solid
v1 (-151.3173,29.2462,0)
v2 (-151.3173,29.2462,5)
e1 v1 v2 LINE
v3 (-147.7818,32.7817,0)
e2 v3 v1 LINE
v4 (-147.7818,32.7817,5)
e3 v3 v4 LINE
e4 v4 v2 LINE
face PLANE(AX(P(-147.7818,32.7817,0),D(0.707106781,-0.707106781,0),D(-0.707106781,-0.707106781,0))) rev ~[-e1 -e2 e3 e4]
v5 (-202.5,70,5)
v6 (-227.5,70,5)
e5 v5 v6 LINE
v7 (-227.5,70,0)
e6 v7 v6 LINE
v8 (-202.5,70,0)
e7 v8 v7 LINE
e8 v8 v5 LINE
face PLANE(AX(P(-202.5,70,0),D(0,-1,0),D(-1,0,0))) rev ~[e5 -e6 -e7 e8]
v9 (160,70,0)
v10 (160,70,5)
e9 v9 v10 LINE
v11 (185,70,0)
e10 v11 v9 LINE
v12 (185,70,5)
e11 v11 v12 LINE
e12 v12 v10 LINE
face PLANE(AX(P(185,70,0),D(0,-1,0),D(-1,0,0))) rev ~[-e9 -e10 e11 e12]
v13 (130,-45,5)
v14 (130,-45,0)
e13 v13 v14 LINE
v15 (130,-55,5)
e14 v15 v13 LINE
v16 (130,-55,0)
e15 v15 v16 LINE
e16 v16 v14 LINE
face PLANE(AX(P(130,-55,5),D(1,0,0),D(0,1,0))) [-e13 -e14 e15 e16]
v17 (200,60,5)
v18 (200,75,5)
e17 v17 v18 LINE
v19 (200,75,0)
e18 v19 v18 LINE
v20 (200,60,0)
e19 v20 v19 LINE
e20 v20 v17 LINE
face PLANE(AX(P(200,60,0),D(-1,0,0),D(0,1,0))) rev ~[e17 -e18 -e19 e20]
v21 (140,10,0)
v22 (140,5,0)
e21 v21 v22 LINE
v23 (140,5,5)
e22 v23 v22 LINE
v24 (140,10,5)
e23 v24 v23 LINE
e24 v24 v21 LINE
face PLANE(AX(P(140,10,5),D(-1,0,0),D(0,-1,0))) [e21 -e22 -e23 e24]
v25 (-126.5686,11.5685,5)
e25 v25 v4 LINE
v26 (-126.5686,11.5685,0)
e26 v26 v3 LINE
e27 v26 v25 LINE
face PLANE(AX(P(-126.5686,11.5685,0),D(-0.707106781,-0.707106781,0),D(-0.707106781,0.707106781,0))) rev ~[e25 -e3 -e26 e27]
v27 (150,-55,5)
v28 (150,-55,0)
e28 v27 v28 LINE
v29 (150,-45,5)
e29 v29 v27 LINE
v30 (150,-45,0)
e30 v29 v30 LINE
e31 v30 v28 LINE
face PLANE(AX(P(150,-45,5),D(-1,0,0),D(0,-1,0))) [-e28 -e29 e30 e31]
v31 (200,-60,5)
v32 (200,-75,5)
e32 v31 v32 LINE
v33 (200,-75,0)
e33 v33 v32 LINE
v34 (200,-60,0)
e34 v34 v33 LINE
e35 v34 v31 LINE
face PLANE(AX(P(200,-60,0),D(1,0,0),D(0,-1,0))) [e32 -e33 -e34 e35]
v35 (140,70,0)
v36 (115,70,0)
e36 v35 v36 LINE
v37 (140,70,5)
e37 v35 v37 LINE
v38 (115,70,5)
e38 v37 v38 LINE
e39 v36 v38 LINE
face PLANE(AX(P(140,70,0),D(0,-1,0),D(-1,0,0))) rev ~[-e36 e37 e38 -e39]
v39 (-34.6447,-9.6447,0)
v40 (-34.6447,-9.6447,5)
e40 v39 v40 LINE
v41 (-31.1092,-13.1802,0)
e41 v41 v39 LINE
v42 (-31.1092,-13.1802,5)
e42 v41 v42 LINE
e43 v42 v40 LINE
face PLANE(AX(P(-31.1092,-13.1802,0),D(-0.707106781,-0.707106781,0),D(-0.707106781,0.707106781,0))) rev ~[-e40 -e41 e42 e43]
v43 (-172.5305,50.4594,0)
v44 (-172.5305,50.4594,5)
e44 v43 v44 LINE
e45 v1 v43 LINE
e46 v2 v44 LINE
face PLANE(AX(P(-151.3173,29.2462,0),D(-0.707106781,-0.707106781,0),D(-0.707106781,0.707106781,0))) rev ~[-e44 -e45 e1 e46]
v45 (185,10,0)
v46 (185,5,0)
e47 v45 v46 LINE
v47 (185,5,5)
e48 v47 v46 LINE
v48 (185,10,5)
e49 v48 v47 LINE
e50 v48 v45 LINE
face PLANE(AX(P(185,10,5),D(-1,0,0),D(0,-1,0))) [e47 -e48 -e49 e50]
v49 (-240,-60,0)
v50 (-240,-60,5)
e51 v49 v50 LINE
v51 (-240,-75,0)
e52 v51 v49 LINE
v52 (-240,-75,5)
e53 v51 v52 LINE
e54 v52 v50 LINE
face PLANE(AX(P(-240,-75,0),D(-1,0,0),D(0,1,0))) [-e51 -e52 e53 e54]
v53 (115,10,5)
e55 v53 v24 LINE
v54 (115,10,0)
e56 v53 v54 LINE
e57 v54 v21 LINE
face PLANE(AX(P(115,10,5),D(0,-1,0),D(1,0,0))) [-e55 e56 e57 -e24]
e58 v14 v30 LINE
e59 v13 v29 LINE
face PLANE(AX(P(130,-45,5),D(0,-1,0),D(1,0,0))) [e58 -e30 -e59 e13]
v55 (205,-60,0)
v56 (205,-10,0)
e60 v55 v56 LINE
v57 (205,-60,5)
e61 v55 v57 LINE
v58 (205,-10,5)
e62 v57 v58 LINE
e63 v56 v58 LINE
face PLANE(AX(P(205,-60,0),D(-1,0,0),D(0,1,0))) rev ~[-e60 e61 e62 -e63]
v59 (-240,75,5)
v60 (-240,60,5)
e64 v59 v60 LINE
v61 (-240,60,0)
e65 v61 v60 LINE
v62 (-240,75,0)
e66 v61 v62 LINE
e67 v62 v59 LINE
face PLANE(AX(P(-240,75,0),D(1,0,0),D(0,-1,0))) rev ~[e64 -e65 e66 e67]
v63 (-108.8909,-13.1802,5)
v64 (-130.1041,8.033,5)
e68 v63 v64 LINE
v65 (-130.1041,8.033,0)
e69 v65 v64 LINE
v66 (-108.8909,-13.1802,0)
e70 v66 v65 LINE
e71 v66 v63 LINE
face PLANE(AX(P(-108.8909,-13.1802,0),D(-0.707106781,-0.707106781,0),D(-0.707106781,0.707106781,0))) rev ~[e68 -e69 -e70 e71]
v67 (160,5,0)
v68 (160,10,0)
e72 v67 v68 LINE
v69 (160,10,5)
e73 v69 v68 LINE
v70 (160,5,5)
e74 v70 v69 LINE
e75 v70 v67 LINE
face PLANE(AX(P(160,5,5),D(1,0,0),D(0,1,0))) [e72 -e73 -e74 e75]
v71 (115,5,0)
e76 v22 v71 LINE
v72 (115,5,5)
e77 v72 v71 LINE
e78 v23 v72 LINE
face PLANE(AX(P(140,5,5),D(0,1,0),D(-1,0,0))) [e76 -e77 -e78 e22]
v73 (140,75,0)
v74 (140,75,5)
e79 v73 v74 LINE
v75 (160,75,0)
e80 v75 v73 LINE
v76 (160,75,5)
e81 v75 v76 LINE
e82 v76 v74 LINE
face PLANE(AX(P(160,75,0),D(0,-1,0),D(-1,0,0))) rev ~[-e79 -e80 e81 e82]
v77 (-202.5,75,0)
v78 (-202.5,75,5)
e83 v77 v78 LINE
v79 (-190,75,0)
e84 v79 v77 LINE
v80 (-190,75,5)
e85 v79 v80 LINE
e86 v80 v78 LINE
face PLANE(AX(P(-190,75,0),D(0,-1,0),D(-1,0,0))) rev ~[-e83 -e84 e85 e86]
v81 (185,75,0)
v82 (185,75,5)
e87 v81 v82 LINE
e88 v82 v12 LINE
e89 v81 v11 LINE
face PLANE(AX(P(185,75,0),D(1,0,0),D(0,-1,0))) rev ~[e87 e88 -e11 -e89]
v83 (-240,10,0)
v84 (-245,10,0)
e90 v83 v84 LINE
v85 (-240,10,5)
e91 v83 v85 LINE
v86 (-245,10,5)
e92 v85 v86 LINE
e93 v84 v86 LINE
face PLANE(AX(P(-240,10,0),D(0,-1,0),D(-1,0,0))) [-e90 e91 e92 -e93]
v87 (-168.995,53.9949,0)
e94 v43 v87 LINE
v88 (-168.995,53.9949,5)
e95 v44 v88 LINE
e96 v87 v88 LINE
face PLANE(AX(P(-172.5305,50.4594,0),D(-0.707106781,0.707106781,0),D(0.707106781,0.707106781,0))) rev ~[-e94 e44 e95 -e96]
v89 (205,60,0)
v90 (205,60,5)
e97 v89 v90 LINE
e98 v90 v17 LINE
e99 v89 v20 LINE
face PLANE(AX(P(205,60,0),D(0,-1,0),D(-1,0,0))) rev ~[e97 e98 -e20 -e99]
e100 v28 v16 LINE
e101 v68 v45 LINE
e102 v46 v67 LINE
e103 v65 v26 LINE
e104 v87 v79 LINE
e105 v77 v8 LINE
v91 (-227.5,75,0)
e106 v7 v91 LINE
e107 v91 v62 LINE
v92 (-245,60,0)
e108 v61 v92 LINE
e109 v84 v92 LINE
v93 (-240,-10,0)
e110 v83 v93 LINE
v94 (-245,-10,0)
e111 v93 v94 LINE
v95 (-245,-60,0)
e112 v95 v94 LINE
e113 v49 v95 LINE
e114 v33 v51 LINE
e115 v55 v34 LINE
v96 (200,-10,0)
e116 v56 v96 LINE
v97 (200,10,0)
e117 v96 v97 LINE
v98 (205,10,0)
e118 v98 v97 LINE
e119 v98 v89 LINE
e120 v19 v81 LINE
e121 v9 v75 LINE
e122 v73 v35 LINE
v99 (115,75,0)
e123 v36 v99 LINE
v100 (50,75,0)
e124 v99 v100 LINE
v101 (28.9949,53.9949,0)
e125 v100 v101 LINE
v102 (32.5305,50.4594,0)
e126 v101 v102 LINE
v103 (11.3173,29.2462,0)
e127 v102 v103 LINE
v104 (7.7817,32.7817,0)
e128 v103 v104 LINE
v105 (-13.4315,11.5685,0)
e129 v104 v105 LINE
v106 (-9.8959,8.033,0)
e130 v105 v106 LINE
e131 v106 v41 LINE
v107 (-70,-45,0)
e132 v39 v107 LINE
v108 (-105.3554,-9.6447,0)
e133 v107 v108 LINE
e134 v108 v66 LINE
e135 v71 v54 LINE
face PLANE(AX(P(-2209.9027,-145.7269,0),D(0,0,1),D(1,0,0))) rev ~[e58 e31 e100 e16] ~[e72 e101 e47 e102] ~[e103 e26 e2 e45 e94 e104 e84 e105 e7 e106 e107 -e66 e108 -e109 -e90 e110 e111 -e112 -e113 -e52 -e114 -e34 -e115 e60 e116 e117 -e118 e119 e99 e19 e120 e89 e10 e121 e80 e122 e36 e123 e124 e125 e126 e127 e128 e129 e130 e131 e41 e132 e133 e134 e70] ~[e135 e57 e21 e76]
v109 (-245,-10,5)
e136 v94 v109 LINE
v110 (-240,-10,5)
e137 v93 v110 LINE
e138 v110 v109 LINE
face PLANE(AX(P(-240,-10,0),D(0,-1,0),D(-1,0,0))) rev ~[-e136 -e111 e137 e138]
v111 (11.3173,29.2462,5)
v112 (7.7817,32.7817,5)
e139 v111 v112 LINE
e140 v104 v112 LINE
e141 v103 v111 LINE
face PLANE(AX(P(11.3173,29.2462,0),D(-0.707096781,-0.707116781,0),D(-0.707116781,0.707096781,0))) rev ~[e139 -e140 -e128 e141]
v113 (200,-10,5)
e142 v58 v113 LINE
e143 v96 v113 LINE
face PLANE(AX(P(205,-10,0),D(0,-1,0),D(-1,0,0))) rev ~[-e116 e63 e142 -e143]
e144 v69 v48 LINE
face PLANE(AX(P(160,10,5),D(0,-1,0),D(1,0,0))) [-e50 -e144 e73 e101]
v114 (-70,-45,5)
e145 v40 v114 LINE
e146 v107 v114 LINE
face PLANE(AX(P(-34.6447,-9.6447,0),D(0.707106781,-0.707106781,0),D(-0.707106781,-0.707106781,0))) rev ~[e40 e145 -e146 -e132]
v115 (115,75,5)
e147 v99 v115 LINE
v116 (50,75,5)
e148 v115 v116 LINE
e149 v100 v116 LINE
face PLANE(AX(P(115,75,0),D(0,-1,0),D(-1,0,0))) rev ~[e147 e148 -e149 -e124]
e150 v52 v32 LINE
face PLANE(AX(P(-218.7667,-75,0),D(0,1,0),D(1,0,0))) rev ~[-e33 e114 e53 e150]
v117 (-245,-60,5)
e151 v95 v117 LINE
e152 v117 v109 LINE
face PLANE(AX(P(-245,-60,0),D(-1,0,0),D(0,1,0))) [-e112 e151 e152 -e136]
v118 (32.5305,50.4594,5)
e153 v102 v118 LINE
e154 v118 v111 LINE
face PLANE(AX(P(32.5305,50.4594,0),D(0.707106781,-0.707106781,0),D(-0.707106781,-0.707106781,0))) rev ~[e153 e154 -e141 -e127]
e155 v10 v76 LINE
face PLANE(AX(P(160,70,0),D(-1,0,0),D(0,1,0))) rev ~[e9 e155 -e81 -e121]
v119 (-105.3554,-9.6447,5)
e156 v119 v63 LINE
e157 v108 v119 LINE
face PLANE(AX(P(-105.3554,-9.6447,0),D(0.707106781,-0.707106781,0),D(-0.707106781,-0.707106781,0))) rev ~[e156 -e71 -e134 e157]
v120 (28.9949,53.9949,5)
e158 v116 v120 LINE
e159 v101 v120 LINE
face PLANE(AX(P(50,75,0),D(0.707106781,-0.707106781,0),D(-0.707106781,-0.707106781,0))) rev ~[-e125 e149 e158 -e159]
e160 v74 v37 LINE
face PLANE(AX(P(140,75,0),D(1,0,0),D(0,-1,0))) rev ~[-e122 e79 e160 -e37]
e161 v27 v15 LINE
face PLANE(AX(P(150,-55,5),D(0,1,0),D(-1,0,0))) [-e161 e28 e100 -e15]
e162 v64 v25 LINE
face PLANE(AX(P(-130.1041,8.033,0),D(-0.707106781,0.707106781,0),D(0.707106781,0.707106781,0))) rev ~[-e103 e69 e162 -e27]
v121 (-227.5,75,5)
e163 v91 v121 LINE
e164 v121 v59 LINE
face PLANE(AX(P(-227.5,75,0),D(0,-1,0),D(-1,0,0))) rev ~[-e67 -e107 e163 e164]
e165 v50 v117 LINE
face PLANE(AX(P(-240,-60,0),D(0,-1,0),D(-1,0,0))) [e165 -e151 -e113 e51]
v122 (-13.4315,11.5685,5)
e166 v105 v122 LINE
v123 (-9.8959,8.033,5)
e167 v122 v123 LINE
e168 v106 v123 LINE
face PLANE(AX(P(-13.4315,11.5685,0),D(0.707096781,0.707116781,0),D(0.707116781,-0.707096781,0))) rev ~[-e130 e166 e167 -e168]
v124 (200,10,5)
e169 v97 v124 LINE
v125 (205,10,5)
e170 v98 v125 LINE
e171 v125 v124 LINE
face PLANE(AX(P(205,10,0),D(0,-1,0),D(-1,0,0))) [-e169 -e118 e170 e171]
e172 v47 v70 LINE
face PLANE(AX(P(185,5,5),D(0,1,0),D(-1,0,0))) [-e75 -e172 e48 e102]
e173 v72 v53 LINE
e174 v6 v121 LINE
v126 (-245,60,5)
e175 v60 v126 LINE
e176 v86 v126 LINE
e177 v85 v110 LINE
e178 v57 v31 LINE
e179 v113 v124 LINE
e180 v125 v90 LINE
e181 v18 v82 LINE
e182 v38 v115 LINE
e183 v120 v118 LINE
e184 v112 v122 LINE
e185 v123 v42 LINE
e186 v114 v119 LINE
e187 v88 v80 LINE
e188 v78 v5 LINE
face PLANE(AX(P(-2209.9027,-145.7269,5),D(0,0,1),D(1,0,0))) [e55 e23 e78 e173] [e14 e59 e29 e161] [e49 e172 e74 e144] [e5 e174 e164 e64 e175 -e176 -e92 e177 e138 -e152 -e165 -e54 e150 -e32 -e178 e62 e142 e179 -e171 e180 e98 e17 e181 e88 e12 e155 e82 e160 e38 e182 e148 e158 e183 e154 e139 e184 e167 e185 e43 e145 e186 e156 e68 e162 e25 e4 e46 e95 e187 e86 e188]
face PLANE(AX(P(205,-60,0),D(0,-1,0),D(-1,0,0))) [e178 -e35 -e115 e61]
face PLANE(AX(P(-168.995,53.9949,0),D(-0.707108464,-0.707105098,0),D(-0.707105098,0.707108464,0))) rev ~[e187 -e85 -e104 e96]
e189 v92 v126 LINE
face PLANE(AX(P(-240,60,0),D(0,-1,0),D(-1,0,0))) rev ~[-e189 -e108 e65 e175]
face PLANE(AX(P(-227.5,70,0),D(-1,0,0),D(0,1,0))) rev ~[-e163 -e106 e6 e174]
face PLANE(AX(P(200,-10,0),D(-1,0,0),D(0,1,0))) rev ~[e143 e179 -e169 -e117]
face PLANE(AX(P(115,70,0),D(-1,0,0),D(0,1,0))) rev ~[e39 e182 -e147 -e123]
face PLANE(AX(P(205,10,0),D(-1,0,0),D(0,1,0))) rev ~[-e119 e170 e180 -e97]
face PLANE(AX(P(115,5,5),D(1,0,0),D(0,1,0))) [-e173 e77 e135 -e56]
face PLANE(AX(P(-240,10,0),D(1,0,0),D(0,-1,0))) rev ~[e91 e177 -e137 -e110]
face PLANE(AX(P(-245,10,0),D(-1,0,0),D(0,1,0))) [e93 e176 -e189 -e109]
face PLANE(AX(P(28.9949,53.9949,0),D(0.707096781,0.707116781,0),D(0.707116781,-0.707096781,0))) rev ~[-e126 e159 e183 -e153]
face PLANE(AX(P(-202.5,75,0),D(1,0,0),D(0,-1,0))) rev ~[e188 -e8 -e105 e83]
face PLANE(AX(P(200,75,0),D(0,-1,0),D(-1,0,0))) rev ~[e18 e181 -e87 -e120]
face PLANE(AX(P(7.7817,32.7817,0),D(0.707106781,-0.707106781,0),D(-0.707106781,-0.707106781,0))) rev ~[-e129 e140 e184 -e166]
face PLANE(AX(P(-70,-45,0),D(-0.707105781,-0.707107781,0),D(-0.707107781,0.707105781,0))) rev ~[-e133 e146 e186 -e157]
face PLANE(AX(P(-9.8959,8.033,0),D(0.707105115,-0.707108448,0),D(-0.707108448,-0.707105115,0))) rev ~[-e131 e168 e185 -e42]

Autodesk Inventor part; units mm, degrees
ref_plane "YZ Plane" through (0, 0, 0) normal (1, 0, 0) x (0, 1, 0)
ref_plane "XZ Plane" through (0, 0, 0) normal (0, 1, 0) x (-1, 0, 0)
ref_plane "XY Plane" through (0, 0, 0) normal (0, 0, 1) x (1, 0, 0)
ref_plane "Work Plane1" through (-2209.9027, -145.7269, 0) normal (0, 0, 1) x (1, 0, 0)
sketch "Sketch1" plane through (-2209.9027, -145.7269, 0) normal (0, 0, 1) x (1, 0, 0)
  line L0 (1984.9027, 125.3224) -> (1984.9027, 70.7269) projected
  line L1 (1984.9027, 70.7269) -> (2394.9027, 70.7269) projected
  line L2 (2394.9027, 70.7269) -> (2394.9027, 125.3224) projected
  line L3 (2394.9027, 125.3224) -> (2409.9027, 125.3224) projected
  line L4 (2409.9027, 125.3224) -> (2409.9027, 220.7269) projected
  line L5 (2409.9027, 220.7269) -> (2394.9027, 220.7269) projected
  line L6 (1969.9027, 220.7269) -> (1969.9027, 125.3224) projected
  line L7 (1969.9027, 125.3224) -> (1984.9027, 125.3224) projected
  line L8 (1969.9027, 155.7269) -> (1969.9027, 205.7269) projected
  line L9 (1969.9027, 205.7269) -> (1964.9027, 205.7269) projected
  line L10 (1964.9027, 155.7269) -> (1964.9027, 205.7269) projected
  line L11 (1969.9027, 155.7269) -> (1964.9027, 155.7269) projected
  line L12 (1969.9027, 85.7269) -> (1969.9027, 135.7269) projected
  line L13 (1969.9027, 135.7269) -> (1964.9027, 135.7269) projected
  line L14 (1964.9027, 85.7269) -> (1964.9027, 135.7269) projected
  line L15 (1969.9027, 85.7269) -> (1964.9027, 85.7269) projected
  line L16 (1964.9027, 155.7269) -> (1969.9027, 155.7269)
  line L17 (1969.9027, 155.7269) -> (1969.9027, 135.7269)
  line L18 (1969.9027, 135.7269) -> (1964.9027, 135.7269)
  line L19 (1964.9027, 135.7269) -> (1964.9027, 155.7269)
  line L20 (1991.136, 206.6179) -> (1964.9027, 206.6179)
  line L21 (1964.9027, 206.6179) -> (1964.9027, 205.7269)
  line L22 (1964.9027, 205.7269) -> (1991.136, 205.7269)
  line L23 (1991.136, 205.7269) -> (1991.136, 206.6179)
  line L24 (1964.9027, 85.7269) -> (1991.136, 85.7269)
  line L25 (1991.136, 85.7269) -> (1991.136, 70.7269)
  line L26 (1991.136, 70.7269) -> (1964.9027, 70.7269)
  line L27 (1964.9027, 70.7269) -> (1964.9027, 85.7269)
  line L28 (1984.9027, 70.7269) -> (1969.9027, 70.7269)
  line L29 (1969.9027, 70.7269) -> (1969.9027, 125.3224)
  line L30 (1969.9027, 125.3224) -> (1984.9027, 125.3224)
  line L31 (1984.9027, 125.3224) -> (1984.9027, 70.7269)
  line L32 (2414.9027, 155.7269) -> (2414.9027, 205.7269) projected
  line L33 (2414.9027, 205.7269) -> (2409.9027, 205.7269) projected
  line L34 (2409.9027, 155.7269) -> (2409.9027, 205.7269) projected
  line L35 (2414.9027, 155.7269) -> (2409.9027, 155.7269) projected
  line L36 (2414.9027, 85.7269) -> (2414.9027, 135.7269) projected
  line L37 (2414.9027, 135.7269) -> (2409.9027, 135.7269) projected
  line L38 (2409.9027, 85.7269) -> (2409.9027, 135.7269) projected
  line L39 (2414.9027, 85.7269) -> (2409.9027, 85.7269) projected
  line L40 (2409.9027, 70.7269) -> (2394.9027, 70.7269)
  line L41 (2394.9027, 70.7269) -> (2394.9027, 125.3224)
  line L42 (2394.9027, 125.3224) -> (2409.9027, 125.3224)
  line L43 (2409.9027, 125.3224) -> (2409.9027, 70.7269)
  line L44 (2259.9027, 220.7269) -> (2238.8976, 199.7218) projected
  line L45 (2139.9027, 100.7269) -> (2104.5473, 136.0822) projected
  line L46 (2019.9027, 220.7269) -> (2007.4027, 220.7269) projected
  line L47 (2178.7935, 132.5467) -> (2175.258, 136.0822) projected
  line L48 (2104.5473, 136.0822) -> (2101.0118, 132.5467) projected
  line L49 (2101.0118, 132.5467) -> (2079.7986, 153.7599) projected
  line L50 (2079.7986, 153.7599) -> (2083.3341, 157.2954) projected
  line L51 (2083.3341, 157.2954) -> (2062.1209, 178.5086) projected
  line L52 (2062.1209, 178.5086) -> (2058.5854, 174.9731) projected
  line L53 (2058.5854, 174.9731) -> (2037.3722, 196.1863) projected
  line L54 (2037.3722, 196.1863) -> (2040.9077, 199.7218) projected
  line L55 (2238.8976, 199.7218) -> (2242.4332, 196.1863) projected
  line L56 (2242.4332, 196.1863) -> (2221.22, 174.9731) projected
  line L57 (2221.22, 174.9731) -> (2217.6844, 178.5086) projected
  line L58 (2217.6844, 178.5086) -> (2196.4712, 157.2954) projected
  line L59 (2196.4712, 157.2954) -> (2200.0068, 153.7599) projected
  line L60 (2200.0068, 153.7599) -> (2178.7935, 132.5467) projected
  line L61 (2369.9027, 215.7269) -> (2369.9027, 220.7269) projected
  line L62 (2369.9027, 220.7269) -> (2349.9027, 220.7269) projected
  line L63 (2349.9027, 220.7269) -> (2349.9027, 215.7269) projected
  line L64 (2349.9027, 215.7269) -> (2324.9027, 215.7269) projected
  line L65 (2324.9027, 215.7269) -> (2324.9027, 220.7269) projected
  line L66 (2007.4027, 220.7269) -> (2007.4027, 215.7269) projected
  line L67 (2007.4027, 215.7269) -> (1982.4027, 215.7269) projected
  line L68 (1982.4027, 215.7269) -> (1982.4027, 220.7269) projected
  line L69 (2394.9027, 220.7269) -> (2394.9027, 215.7269) projected
  line L70 (2394.9027, 215.7269) -> (2369.9027, 215.7269) projected
  line L71 (2324.9027, 220.7269) -> (2259.9027, 220.7269) projected
  line L72 (2175.258, 136.0822) -> (2139.9027, 100.7269) projected
  line L73 (2040.9077, 199.7218) -> (2019.9027, 220.7269) projected
  line L74 (1982.4027, 220.7269) -> (1969.9027, 220.7269) projected
  point P0 (2209.9027, 145.7269)
  point P1 (1991.136, 21.6179)
  point P2 (1991.136, 6.6179)
  point P3 (1969.9027, 85.7269)
  point P4 (820.3787, 21.6179)
  point P5 (1320.3787, 21.6179)
  point P6 (820.3787, 20.4045)
  point P7 (1984.9027, 70.7269)
  point P8 (1305.3787, -34.1911)
  point P9 (820.3787, 21.6179)
  point P10 (2409.9027, 125.3224)
  point P11 (2394.9027, 70.7269)
  point P12 (1969.9027, 206.6179)
extrude "Extrusion1" add sketch "Sketch1" along normal blind 5 contours L7 L6 L22 L23 L20 L74 L68 L67 L66 L46 L73 L54 L53 L52 L51 L50 L49 L48 L45 L72 L47 L60 L59 L58 L57 L56 L55 L44 L71 L65 L64 L63 L62 L61 L70 L69 L5 L4 L3 L2 L1 L25 L24 L0 | L0 L24 L12 L7 | L24 L25 L1 L0 | L0 L26 L29 L24 | L12 L15 L14 L13 L6 | L11 L10 L9 L6 | L2 L3 L38 L43 L40 | L6 L20 L23 L22 | L4 L37 L36 L39 L38 | L4 L33 L32 L35
sketch "Sketch3" plane through (-2209.9027, -145.7269, 5) normal (0, 0, 1) x (1, 0, 0)
  point P0 (2209.9027, 145.7269)
sketch "Sketch4" plane through (-2209.9027, -145.7269, 5) normal (0, 0, 1) x (1, 0, 0)
  line L0 (2324.9027, 155.7269) -> (2349.9027, 155.7269)
  line L1 (2349.9027, 155.7269) -> (2349.9027, 150.7269)
  line L2 (2349.9027, 150.7269) -> (2324.9027, 150.7269)
  line L3 (2324.9027, 150.7269) -> (2324.9027, 155.7269)
  line L4 (1969.9027, 220.7269) -> (1969.9027, 205.7269) projected
  line L5 (1969.9027, 155.7269) -> (1969.9027, 135.7269) projected
  line L6 (1969.9027, 135.7269) -> (1964.9027, 135.7269) projected
  line L7 (1964.9027, 135.7269) -> (1964.9027, 85.7269) projected
  line L8 (1969.9027, 70.7269) -> (2409.9027, 70.7269) projected
  line L9 (2409.9027, 85.7269) -> (2414.9027, 85.7269) projected
  line L10 (2414.9027, 85.7269) -> (2414.9027, 135.7269) projected
  line L11 (2414.9027, 135.7269) -> (2409.9027, 135.7269) projected
  line L12 (2409.9027, 135.7269) -> (2409.9027, 155.7269) projected
  line L13 (2409.9027, 155.7269) -> (2414.9027, 155.7269) projected
  line L14 (2414.9027, 155.7269) -> (2414.9027, 205.7269) projected
  line L15 (2414.9027, 205.7269) -> (2409.9027, 205.7269) projected
  line L16 (2409.9027, 205.7269) -> (2409.9027, 220.7269) projected
  line L17 (2409.9027, 220.7269) -> (2394.9027, 220.7269) projected
  line L18 (2369.9027, 155.7269) -> (2394.9027, 155.7269)
  line L19 (2394.9027, 155.7269) -> (2394.9027, 150.7269)
  line L20 (2394.9027, 150.7269) -> (2369.9027, 150.7269)
  line L21 (2369.9027, 150.7269) -> (2369.9027, 155.7269)
  line L22 (2259.9027, 220.7269) -> (2238.8976, 199.7218) projected
  line L23 (2139.9027, 100.7269) -> (2104.5473, 136.0822) projected
  line L24 (2019.9027, 220.7269) -> (2007.4027, 220.7269) projected
  line L25 (1964.9027, 85.7269) -> (1969.9027, 85.7269) projected
  line L26 (2409.9027, 70.7269) -> (2409.9027, 85.7269) projected
  line L27 (1969.9027, 85.7269) -> (1969.9027, 70.7269) projected
  line L28 (1964.9027, 205.7269) -> (1964.9027, 155.7269) projected
  line L29 (1964.9027, 155.7269) -> (1969.9027, 155.7269) projected
  line L30 (2238.8976, 199.7218) -> (2242.4332, 196.1863) projected
  line L31 (2242.4332, 196.1863) -> (2221.22, 174.9731) projected
  line L32 (2221.22, 174.9731) -> (2217.6844, 178.5086) projected
  line L33 (2217.6844, 178.5086) -> (2196.4712, 157.2954) projected
  line L34 (2196.4712, 157.2954) -> (2200.0068, 153.7599) projected
  line L35 (2200.0068, 153.7599) -> (2178.7935, 132.5467) projected
  line L36 (2178.7935, 132.5467) -> (2175.258, 136.0822) projected
  line L37 (2104.5473, 136.0822) -> (2101.0118, 132.5467) projected
  line L38 (2101.0118, 132.5467) -> (2079.7986, 153.7599) projected
  line L39 (2079.7986, 153.7599) -> (2083.3341, 157.2954) projected
  line L40 (2083.3341, 157.2954) -> (2062.1209, 178.5086) projected
  line L41 (2062.1209, 178.5086) -> (2058.5854, 174.9731) projected
  line L42 (2058.5854, 174.9731) -> (2037.3722, 196.1863) projected
  line L43 (2037.3722, 196.1863) -> (2040.9077, 199.7218) projected
  line L44 (2394.9027, 220.7269) -> (2394.9027, 215.7269) projected
  line L45 (2394.9027, 215.7269) -> (2369.9027, 215.7269) projected
  line L46 (2369.9027, 215.7269) -> (2369.9027, 220.7269) projected
  line L47 (2369.9027, 220.7269) -> (2349.9027, 220.7269) projected
  line L48 (2349.9027, 220.7269) -> (2349.9027, 215.7269) projected
  line L49 (2349.9027, 215.7269) -> (2324.9027, 215.7269) projected
  line L50 (2324.9027, 215.7269) -> (2324.9027, 220.7269) projected
  line L51 (2007.4027, 220.7269) -> (2007.4027, 215.7269) projected
  line L52 (2007.4027, 215.7269) -> (1982.4027, 215.7269) projected
  line L53 (1982.4027, 215.7269) -> (1982.4027, 220.7269) projected
  line L54 (2324.9027, 220.7269) -> (2259.9027, 220.7269) projected
  line L55 (2175.258, 136.0822) -> (2139.9027, 100.7269) projected
  line L56 (2040.9077, 199.7218) -> (2019.9027, 220.7269) projected
  line L57 (1982.4027, 220.7269) -> (1969.9027, 220.7269) projected
  line L58 (1969.9027, 205.7269) -> (1964.9027, 205.7269) projected
  point P0 (2209.9027, 145.7269)
  dimension "d16" = 25
  dimension "d17" = 5
  dimension "d18" = 80
  dimension "d19" = 25
  dimension "d20" = 5
  dimension "d22" = 15
  dimension "d25" = 20
extrude "Extrusion3" cut sketch "Sketch4" against normal blind 5 contours L0 L1 L2 L3 | L18 L19 L20 L21
sketch "Sketch5" plane through (-2209.9027, -145.7269, 5) normal (0, 0, 1) x (1, 0, 0)
  point P0 (2209.9027, 145.7269)
sketch "Sketch6" plane through (-2209.9027, -145.7269, 5) normal (0, 0, 1) x (1, 0, 0)
  line L0 (2394.9027, 155.7269) -> (2394.9027, 150.7269) projected
  line L1 (2394.9027, 150.7269) -> (2369.9027, 150.7269) projected
  line L2 (2369.9027, 150.7269) -> (2369.9027, 155.7269) projected
  line L3 (2369.9027, 155.7269) -> (2394.9027, 155.7269) projected
  line L4 (2349.9027, 155.7269) -> (2349.9027, 150.7269) projected
  line L5 (2349.9027, 150.7269) -> (2324.9027, 150.7269) projected
  line L6 (2324.9027, 150.7269) -> (2324.9027, 155.7269) projected
  line L7 (2324.9027, 155.7269) -> (2349.9027, 155.7269) projected
  line L8 (1964.9027, 85.7269) -> (1969.9027, 85.7269) projected
  line L9 (1969.9027, 85.7269) -> (1969.9027, 70.7269) projected
  line L10 (1969.9027, 70.7269) -> (2409.9027, 70.7269) projected
  line L11 (2409.9027, 70.7269) -> (2409.9027, 85.7269) projected
  line L12 (2409.9027, 85.7269) -> (2414.9027, 85.7269) projected
  line L13 (2414.9027, 85.7269) -> (2414.9027, 135.7269) projected
  line L14 (2414.9027, 135.7269) -> (2409.9027, 135.7269) projected
  line L15 (2409.9027, 135.7269) -> (2409.9027, 155.7269) projected
  line L16 (2409.9027, 155.7269) -> (2414.9027, 155.7269) projected
  line L17 (2414.9027, 155.7269) -> (2414.9027, 205.7269) projected
  line L18 (2414.9027, 205.7269) -> (2409.9027, 205.7269) projected
  line L19 (2409.9027, 205.7269) -> (2409.9027, 220.7269) projected
  line L20 (2409.9027, 220.7269) -> (2394.9027, 220.7269) projected
  line L21 (2394.9027, 220.7269) -> (2394.9027, 215.7269) projected
  line L22 (2394.9027, 215.7269) -> (2369.9027, 215.7269) projected
  line L23 (2369.9027, 215.7269) -> (2369.9027, 220.7269) projected
  line L24 (2369.9027, 220.7269) -> (2349.9027, 220.7269) projected
  line L25 (2349.9027, 220.7269) -> (2349.9027, 215.7269) projected
  line L26 (2349.9027, 215.7269) -> (2324.9027, 215.7269) projected
  line L27 (2324.9027, 215.7269) -> (2324.9027, 220.7269) projected
  line L28 (2259.9027, 220.7269) -> (2238.8976, 199.7218) projected
  line L29 (2238.8976, 199.7218) -> (2242.4332, 196.1863) projected
  line L30 (2242.4332, 196.1863) -> (2221.22, 174.9731) projected
  line L31 (2221.22, 174.9731) -> (2217.6844, 178.5086) projected
  line L32 (2217.6844, 178.5086) -> (2196.4712, 157.2954) projected
  line L33 (2196.4712, 157.2954) -> (2200.0068, 153.7599) projected
  line L34 (2200.0068, 153.7599) -> (2178.7935, 132.5467) projected
  line L35 (2178.7935, 132.5467) -> (2175.258, 136.0822) projected
  line L36 (2139.9027, 100.7269) -> (2104.5473, 136.0822) projected
  line L37 (2104.5473, 136.0822) -> (2101.0118, 132.5467) projected
  line L38 (2101.0118, 132.5467) -> (2079.7986, 153.7599) projected
  line L39 (2079.7986, 153.7599) -> (2083.3341, 157.2954) projected
  line L40 (2083.3341, 157.2954) -> (2062.1209, 178.5086) projected
  line L41 (2062.1209, 178.5086) -> (2058.5854, 174.9731) projected
  line L42 (2058.5854, 174.9731) -> (2037.3722, 196.1863) projected
  line L43 (2037.3722, 196.1863) -> (2040.9077, 199.7218) projected
  line L44 (2019.9027, 220.7269) -> (2007.4027, 220.7269) projected
  line L45 (2007.4027, 220.7269) -> (2007.4027, 215.7269) projected
  line L46 (2007.4027, 215.7269) -> (1982.4027, 215.7269) projected
  line L47 (1982.4027, 215.7269) -> (1982.4027, 220.7269) projected
  line L48 (1969.9027, 220.7269) -> (1969.9027, 205.7269) projected
  line L49 (1964.9027, 205.7269) -> (1964.9027, 155.7269) projected
  line L50 (1964.9027, 155.7269) -> (1969.9027, 155.7269) projected
  line L51 (1969.9027, 155.7269) -> (1969.9027, 135.7269) projected
  line L52 (1969.9027, 135.7269) -> (1964.9027, 135.7269) projected
  line L53 (1964.9027, 135.7269) -> (1964.9027, 85.7269) projected
  line L54 (2339.9027, 100.7269) -> (2359.9027, 100.7269)
  line L55 (2359.9027, 100.7269) -> (2359.9027, 90.7269)
  line L56 (2359.9027, 90.7269) -> (2339.9027, 90.7269)
  line L57 (2339.9027, 90.7269) -> (2339.9027, 100.7269)
  line L58 (2324.9027, 220.7269) -> (2259.9027, 220.7269) projected
  line L59 (2175.258, 136.0822) -> (2139.9027, 100.7269) projected
  line L60 (2040.9077, 199.7218) -> (2019.9027, 220.7269) projected
  line L61 (1982.4027, 220.7269) -> (1969.9027, 220.7269) projected
  line L62 (1969.9027, 205.7269) -> (1964.9027, 205.7269) projected
  point P0 (2209.9027, 145.7269)
  dimension "d26" = 20
  dimension "d27" = 10
  dimension "d28" = 20
  dimension "d29" = 50
extrude "Extrusion4" cut sketch "Sketch6" against normal blind 10 contours L54 L55 L56 L57
equation "\"d19\" = d16"
properties part number "Frontal"
